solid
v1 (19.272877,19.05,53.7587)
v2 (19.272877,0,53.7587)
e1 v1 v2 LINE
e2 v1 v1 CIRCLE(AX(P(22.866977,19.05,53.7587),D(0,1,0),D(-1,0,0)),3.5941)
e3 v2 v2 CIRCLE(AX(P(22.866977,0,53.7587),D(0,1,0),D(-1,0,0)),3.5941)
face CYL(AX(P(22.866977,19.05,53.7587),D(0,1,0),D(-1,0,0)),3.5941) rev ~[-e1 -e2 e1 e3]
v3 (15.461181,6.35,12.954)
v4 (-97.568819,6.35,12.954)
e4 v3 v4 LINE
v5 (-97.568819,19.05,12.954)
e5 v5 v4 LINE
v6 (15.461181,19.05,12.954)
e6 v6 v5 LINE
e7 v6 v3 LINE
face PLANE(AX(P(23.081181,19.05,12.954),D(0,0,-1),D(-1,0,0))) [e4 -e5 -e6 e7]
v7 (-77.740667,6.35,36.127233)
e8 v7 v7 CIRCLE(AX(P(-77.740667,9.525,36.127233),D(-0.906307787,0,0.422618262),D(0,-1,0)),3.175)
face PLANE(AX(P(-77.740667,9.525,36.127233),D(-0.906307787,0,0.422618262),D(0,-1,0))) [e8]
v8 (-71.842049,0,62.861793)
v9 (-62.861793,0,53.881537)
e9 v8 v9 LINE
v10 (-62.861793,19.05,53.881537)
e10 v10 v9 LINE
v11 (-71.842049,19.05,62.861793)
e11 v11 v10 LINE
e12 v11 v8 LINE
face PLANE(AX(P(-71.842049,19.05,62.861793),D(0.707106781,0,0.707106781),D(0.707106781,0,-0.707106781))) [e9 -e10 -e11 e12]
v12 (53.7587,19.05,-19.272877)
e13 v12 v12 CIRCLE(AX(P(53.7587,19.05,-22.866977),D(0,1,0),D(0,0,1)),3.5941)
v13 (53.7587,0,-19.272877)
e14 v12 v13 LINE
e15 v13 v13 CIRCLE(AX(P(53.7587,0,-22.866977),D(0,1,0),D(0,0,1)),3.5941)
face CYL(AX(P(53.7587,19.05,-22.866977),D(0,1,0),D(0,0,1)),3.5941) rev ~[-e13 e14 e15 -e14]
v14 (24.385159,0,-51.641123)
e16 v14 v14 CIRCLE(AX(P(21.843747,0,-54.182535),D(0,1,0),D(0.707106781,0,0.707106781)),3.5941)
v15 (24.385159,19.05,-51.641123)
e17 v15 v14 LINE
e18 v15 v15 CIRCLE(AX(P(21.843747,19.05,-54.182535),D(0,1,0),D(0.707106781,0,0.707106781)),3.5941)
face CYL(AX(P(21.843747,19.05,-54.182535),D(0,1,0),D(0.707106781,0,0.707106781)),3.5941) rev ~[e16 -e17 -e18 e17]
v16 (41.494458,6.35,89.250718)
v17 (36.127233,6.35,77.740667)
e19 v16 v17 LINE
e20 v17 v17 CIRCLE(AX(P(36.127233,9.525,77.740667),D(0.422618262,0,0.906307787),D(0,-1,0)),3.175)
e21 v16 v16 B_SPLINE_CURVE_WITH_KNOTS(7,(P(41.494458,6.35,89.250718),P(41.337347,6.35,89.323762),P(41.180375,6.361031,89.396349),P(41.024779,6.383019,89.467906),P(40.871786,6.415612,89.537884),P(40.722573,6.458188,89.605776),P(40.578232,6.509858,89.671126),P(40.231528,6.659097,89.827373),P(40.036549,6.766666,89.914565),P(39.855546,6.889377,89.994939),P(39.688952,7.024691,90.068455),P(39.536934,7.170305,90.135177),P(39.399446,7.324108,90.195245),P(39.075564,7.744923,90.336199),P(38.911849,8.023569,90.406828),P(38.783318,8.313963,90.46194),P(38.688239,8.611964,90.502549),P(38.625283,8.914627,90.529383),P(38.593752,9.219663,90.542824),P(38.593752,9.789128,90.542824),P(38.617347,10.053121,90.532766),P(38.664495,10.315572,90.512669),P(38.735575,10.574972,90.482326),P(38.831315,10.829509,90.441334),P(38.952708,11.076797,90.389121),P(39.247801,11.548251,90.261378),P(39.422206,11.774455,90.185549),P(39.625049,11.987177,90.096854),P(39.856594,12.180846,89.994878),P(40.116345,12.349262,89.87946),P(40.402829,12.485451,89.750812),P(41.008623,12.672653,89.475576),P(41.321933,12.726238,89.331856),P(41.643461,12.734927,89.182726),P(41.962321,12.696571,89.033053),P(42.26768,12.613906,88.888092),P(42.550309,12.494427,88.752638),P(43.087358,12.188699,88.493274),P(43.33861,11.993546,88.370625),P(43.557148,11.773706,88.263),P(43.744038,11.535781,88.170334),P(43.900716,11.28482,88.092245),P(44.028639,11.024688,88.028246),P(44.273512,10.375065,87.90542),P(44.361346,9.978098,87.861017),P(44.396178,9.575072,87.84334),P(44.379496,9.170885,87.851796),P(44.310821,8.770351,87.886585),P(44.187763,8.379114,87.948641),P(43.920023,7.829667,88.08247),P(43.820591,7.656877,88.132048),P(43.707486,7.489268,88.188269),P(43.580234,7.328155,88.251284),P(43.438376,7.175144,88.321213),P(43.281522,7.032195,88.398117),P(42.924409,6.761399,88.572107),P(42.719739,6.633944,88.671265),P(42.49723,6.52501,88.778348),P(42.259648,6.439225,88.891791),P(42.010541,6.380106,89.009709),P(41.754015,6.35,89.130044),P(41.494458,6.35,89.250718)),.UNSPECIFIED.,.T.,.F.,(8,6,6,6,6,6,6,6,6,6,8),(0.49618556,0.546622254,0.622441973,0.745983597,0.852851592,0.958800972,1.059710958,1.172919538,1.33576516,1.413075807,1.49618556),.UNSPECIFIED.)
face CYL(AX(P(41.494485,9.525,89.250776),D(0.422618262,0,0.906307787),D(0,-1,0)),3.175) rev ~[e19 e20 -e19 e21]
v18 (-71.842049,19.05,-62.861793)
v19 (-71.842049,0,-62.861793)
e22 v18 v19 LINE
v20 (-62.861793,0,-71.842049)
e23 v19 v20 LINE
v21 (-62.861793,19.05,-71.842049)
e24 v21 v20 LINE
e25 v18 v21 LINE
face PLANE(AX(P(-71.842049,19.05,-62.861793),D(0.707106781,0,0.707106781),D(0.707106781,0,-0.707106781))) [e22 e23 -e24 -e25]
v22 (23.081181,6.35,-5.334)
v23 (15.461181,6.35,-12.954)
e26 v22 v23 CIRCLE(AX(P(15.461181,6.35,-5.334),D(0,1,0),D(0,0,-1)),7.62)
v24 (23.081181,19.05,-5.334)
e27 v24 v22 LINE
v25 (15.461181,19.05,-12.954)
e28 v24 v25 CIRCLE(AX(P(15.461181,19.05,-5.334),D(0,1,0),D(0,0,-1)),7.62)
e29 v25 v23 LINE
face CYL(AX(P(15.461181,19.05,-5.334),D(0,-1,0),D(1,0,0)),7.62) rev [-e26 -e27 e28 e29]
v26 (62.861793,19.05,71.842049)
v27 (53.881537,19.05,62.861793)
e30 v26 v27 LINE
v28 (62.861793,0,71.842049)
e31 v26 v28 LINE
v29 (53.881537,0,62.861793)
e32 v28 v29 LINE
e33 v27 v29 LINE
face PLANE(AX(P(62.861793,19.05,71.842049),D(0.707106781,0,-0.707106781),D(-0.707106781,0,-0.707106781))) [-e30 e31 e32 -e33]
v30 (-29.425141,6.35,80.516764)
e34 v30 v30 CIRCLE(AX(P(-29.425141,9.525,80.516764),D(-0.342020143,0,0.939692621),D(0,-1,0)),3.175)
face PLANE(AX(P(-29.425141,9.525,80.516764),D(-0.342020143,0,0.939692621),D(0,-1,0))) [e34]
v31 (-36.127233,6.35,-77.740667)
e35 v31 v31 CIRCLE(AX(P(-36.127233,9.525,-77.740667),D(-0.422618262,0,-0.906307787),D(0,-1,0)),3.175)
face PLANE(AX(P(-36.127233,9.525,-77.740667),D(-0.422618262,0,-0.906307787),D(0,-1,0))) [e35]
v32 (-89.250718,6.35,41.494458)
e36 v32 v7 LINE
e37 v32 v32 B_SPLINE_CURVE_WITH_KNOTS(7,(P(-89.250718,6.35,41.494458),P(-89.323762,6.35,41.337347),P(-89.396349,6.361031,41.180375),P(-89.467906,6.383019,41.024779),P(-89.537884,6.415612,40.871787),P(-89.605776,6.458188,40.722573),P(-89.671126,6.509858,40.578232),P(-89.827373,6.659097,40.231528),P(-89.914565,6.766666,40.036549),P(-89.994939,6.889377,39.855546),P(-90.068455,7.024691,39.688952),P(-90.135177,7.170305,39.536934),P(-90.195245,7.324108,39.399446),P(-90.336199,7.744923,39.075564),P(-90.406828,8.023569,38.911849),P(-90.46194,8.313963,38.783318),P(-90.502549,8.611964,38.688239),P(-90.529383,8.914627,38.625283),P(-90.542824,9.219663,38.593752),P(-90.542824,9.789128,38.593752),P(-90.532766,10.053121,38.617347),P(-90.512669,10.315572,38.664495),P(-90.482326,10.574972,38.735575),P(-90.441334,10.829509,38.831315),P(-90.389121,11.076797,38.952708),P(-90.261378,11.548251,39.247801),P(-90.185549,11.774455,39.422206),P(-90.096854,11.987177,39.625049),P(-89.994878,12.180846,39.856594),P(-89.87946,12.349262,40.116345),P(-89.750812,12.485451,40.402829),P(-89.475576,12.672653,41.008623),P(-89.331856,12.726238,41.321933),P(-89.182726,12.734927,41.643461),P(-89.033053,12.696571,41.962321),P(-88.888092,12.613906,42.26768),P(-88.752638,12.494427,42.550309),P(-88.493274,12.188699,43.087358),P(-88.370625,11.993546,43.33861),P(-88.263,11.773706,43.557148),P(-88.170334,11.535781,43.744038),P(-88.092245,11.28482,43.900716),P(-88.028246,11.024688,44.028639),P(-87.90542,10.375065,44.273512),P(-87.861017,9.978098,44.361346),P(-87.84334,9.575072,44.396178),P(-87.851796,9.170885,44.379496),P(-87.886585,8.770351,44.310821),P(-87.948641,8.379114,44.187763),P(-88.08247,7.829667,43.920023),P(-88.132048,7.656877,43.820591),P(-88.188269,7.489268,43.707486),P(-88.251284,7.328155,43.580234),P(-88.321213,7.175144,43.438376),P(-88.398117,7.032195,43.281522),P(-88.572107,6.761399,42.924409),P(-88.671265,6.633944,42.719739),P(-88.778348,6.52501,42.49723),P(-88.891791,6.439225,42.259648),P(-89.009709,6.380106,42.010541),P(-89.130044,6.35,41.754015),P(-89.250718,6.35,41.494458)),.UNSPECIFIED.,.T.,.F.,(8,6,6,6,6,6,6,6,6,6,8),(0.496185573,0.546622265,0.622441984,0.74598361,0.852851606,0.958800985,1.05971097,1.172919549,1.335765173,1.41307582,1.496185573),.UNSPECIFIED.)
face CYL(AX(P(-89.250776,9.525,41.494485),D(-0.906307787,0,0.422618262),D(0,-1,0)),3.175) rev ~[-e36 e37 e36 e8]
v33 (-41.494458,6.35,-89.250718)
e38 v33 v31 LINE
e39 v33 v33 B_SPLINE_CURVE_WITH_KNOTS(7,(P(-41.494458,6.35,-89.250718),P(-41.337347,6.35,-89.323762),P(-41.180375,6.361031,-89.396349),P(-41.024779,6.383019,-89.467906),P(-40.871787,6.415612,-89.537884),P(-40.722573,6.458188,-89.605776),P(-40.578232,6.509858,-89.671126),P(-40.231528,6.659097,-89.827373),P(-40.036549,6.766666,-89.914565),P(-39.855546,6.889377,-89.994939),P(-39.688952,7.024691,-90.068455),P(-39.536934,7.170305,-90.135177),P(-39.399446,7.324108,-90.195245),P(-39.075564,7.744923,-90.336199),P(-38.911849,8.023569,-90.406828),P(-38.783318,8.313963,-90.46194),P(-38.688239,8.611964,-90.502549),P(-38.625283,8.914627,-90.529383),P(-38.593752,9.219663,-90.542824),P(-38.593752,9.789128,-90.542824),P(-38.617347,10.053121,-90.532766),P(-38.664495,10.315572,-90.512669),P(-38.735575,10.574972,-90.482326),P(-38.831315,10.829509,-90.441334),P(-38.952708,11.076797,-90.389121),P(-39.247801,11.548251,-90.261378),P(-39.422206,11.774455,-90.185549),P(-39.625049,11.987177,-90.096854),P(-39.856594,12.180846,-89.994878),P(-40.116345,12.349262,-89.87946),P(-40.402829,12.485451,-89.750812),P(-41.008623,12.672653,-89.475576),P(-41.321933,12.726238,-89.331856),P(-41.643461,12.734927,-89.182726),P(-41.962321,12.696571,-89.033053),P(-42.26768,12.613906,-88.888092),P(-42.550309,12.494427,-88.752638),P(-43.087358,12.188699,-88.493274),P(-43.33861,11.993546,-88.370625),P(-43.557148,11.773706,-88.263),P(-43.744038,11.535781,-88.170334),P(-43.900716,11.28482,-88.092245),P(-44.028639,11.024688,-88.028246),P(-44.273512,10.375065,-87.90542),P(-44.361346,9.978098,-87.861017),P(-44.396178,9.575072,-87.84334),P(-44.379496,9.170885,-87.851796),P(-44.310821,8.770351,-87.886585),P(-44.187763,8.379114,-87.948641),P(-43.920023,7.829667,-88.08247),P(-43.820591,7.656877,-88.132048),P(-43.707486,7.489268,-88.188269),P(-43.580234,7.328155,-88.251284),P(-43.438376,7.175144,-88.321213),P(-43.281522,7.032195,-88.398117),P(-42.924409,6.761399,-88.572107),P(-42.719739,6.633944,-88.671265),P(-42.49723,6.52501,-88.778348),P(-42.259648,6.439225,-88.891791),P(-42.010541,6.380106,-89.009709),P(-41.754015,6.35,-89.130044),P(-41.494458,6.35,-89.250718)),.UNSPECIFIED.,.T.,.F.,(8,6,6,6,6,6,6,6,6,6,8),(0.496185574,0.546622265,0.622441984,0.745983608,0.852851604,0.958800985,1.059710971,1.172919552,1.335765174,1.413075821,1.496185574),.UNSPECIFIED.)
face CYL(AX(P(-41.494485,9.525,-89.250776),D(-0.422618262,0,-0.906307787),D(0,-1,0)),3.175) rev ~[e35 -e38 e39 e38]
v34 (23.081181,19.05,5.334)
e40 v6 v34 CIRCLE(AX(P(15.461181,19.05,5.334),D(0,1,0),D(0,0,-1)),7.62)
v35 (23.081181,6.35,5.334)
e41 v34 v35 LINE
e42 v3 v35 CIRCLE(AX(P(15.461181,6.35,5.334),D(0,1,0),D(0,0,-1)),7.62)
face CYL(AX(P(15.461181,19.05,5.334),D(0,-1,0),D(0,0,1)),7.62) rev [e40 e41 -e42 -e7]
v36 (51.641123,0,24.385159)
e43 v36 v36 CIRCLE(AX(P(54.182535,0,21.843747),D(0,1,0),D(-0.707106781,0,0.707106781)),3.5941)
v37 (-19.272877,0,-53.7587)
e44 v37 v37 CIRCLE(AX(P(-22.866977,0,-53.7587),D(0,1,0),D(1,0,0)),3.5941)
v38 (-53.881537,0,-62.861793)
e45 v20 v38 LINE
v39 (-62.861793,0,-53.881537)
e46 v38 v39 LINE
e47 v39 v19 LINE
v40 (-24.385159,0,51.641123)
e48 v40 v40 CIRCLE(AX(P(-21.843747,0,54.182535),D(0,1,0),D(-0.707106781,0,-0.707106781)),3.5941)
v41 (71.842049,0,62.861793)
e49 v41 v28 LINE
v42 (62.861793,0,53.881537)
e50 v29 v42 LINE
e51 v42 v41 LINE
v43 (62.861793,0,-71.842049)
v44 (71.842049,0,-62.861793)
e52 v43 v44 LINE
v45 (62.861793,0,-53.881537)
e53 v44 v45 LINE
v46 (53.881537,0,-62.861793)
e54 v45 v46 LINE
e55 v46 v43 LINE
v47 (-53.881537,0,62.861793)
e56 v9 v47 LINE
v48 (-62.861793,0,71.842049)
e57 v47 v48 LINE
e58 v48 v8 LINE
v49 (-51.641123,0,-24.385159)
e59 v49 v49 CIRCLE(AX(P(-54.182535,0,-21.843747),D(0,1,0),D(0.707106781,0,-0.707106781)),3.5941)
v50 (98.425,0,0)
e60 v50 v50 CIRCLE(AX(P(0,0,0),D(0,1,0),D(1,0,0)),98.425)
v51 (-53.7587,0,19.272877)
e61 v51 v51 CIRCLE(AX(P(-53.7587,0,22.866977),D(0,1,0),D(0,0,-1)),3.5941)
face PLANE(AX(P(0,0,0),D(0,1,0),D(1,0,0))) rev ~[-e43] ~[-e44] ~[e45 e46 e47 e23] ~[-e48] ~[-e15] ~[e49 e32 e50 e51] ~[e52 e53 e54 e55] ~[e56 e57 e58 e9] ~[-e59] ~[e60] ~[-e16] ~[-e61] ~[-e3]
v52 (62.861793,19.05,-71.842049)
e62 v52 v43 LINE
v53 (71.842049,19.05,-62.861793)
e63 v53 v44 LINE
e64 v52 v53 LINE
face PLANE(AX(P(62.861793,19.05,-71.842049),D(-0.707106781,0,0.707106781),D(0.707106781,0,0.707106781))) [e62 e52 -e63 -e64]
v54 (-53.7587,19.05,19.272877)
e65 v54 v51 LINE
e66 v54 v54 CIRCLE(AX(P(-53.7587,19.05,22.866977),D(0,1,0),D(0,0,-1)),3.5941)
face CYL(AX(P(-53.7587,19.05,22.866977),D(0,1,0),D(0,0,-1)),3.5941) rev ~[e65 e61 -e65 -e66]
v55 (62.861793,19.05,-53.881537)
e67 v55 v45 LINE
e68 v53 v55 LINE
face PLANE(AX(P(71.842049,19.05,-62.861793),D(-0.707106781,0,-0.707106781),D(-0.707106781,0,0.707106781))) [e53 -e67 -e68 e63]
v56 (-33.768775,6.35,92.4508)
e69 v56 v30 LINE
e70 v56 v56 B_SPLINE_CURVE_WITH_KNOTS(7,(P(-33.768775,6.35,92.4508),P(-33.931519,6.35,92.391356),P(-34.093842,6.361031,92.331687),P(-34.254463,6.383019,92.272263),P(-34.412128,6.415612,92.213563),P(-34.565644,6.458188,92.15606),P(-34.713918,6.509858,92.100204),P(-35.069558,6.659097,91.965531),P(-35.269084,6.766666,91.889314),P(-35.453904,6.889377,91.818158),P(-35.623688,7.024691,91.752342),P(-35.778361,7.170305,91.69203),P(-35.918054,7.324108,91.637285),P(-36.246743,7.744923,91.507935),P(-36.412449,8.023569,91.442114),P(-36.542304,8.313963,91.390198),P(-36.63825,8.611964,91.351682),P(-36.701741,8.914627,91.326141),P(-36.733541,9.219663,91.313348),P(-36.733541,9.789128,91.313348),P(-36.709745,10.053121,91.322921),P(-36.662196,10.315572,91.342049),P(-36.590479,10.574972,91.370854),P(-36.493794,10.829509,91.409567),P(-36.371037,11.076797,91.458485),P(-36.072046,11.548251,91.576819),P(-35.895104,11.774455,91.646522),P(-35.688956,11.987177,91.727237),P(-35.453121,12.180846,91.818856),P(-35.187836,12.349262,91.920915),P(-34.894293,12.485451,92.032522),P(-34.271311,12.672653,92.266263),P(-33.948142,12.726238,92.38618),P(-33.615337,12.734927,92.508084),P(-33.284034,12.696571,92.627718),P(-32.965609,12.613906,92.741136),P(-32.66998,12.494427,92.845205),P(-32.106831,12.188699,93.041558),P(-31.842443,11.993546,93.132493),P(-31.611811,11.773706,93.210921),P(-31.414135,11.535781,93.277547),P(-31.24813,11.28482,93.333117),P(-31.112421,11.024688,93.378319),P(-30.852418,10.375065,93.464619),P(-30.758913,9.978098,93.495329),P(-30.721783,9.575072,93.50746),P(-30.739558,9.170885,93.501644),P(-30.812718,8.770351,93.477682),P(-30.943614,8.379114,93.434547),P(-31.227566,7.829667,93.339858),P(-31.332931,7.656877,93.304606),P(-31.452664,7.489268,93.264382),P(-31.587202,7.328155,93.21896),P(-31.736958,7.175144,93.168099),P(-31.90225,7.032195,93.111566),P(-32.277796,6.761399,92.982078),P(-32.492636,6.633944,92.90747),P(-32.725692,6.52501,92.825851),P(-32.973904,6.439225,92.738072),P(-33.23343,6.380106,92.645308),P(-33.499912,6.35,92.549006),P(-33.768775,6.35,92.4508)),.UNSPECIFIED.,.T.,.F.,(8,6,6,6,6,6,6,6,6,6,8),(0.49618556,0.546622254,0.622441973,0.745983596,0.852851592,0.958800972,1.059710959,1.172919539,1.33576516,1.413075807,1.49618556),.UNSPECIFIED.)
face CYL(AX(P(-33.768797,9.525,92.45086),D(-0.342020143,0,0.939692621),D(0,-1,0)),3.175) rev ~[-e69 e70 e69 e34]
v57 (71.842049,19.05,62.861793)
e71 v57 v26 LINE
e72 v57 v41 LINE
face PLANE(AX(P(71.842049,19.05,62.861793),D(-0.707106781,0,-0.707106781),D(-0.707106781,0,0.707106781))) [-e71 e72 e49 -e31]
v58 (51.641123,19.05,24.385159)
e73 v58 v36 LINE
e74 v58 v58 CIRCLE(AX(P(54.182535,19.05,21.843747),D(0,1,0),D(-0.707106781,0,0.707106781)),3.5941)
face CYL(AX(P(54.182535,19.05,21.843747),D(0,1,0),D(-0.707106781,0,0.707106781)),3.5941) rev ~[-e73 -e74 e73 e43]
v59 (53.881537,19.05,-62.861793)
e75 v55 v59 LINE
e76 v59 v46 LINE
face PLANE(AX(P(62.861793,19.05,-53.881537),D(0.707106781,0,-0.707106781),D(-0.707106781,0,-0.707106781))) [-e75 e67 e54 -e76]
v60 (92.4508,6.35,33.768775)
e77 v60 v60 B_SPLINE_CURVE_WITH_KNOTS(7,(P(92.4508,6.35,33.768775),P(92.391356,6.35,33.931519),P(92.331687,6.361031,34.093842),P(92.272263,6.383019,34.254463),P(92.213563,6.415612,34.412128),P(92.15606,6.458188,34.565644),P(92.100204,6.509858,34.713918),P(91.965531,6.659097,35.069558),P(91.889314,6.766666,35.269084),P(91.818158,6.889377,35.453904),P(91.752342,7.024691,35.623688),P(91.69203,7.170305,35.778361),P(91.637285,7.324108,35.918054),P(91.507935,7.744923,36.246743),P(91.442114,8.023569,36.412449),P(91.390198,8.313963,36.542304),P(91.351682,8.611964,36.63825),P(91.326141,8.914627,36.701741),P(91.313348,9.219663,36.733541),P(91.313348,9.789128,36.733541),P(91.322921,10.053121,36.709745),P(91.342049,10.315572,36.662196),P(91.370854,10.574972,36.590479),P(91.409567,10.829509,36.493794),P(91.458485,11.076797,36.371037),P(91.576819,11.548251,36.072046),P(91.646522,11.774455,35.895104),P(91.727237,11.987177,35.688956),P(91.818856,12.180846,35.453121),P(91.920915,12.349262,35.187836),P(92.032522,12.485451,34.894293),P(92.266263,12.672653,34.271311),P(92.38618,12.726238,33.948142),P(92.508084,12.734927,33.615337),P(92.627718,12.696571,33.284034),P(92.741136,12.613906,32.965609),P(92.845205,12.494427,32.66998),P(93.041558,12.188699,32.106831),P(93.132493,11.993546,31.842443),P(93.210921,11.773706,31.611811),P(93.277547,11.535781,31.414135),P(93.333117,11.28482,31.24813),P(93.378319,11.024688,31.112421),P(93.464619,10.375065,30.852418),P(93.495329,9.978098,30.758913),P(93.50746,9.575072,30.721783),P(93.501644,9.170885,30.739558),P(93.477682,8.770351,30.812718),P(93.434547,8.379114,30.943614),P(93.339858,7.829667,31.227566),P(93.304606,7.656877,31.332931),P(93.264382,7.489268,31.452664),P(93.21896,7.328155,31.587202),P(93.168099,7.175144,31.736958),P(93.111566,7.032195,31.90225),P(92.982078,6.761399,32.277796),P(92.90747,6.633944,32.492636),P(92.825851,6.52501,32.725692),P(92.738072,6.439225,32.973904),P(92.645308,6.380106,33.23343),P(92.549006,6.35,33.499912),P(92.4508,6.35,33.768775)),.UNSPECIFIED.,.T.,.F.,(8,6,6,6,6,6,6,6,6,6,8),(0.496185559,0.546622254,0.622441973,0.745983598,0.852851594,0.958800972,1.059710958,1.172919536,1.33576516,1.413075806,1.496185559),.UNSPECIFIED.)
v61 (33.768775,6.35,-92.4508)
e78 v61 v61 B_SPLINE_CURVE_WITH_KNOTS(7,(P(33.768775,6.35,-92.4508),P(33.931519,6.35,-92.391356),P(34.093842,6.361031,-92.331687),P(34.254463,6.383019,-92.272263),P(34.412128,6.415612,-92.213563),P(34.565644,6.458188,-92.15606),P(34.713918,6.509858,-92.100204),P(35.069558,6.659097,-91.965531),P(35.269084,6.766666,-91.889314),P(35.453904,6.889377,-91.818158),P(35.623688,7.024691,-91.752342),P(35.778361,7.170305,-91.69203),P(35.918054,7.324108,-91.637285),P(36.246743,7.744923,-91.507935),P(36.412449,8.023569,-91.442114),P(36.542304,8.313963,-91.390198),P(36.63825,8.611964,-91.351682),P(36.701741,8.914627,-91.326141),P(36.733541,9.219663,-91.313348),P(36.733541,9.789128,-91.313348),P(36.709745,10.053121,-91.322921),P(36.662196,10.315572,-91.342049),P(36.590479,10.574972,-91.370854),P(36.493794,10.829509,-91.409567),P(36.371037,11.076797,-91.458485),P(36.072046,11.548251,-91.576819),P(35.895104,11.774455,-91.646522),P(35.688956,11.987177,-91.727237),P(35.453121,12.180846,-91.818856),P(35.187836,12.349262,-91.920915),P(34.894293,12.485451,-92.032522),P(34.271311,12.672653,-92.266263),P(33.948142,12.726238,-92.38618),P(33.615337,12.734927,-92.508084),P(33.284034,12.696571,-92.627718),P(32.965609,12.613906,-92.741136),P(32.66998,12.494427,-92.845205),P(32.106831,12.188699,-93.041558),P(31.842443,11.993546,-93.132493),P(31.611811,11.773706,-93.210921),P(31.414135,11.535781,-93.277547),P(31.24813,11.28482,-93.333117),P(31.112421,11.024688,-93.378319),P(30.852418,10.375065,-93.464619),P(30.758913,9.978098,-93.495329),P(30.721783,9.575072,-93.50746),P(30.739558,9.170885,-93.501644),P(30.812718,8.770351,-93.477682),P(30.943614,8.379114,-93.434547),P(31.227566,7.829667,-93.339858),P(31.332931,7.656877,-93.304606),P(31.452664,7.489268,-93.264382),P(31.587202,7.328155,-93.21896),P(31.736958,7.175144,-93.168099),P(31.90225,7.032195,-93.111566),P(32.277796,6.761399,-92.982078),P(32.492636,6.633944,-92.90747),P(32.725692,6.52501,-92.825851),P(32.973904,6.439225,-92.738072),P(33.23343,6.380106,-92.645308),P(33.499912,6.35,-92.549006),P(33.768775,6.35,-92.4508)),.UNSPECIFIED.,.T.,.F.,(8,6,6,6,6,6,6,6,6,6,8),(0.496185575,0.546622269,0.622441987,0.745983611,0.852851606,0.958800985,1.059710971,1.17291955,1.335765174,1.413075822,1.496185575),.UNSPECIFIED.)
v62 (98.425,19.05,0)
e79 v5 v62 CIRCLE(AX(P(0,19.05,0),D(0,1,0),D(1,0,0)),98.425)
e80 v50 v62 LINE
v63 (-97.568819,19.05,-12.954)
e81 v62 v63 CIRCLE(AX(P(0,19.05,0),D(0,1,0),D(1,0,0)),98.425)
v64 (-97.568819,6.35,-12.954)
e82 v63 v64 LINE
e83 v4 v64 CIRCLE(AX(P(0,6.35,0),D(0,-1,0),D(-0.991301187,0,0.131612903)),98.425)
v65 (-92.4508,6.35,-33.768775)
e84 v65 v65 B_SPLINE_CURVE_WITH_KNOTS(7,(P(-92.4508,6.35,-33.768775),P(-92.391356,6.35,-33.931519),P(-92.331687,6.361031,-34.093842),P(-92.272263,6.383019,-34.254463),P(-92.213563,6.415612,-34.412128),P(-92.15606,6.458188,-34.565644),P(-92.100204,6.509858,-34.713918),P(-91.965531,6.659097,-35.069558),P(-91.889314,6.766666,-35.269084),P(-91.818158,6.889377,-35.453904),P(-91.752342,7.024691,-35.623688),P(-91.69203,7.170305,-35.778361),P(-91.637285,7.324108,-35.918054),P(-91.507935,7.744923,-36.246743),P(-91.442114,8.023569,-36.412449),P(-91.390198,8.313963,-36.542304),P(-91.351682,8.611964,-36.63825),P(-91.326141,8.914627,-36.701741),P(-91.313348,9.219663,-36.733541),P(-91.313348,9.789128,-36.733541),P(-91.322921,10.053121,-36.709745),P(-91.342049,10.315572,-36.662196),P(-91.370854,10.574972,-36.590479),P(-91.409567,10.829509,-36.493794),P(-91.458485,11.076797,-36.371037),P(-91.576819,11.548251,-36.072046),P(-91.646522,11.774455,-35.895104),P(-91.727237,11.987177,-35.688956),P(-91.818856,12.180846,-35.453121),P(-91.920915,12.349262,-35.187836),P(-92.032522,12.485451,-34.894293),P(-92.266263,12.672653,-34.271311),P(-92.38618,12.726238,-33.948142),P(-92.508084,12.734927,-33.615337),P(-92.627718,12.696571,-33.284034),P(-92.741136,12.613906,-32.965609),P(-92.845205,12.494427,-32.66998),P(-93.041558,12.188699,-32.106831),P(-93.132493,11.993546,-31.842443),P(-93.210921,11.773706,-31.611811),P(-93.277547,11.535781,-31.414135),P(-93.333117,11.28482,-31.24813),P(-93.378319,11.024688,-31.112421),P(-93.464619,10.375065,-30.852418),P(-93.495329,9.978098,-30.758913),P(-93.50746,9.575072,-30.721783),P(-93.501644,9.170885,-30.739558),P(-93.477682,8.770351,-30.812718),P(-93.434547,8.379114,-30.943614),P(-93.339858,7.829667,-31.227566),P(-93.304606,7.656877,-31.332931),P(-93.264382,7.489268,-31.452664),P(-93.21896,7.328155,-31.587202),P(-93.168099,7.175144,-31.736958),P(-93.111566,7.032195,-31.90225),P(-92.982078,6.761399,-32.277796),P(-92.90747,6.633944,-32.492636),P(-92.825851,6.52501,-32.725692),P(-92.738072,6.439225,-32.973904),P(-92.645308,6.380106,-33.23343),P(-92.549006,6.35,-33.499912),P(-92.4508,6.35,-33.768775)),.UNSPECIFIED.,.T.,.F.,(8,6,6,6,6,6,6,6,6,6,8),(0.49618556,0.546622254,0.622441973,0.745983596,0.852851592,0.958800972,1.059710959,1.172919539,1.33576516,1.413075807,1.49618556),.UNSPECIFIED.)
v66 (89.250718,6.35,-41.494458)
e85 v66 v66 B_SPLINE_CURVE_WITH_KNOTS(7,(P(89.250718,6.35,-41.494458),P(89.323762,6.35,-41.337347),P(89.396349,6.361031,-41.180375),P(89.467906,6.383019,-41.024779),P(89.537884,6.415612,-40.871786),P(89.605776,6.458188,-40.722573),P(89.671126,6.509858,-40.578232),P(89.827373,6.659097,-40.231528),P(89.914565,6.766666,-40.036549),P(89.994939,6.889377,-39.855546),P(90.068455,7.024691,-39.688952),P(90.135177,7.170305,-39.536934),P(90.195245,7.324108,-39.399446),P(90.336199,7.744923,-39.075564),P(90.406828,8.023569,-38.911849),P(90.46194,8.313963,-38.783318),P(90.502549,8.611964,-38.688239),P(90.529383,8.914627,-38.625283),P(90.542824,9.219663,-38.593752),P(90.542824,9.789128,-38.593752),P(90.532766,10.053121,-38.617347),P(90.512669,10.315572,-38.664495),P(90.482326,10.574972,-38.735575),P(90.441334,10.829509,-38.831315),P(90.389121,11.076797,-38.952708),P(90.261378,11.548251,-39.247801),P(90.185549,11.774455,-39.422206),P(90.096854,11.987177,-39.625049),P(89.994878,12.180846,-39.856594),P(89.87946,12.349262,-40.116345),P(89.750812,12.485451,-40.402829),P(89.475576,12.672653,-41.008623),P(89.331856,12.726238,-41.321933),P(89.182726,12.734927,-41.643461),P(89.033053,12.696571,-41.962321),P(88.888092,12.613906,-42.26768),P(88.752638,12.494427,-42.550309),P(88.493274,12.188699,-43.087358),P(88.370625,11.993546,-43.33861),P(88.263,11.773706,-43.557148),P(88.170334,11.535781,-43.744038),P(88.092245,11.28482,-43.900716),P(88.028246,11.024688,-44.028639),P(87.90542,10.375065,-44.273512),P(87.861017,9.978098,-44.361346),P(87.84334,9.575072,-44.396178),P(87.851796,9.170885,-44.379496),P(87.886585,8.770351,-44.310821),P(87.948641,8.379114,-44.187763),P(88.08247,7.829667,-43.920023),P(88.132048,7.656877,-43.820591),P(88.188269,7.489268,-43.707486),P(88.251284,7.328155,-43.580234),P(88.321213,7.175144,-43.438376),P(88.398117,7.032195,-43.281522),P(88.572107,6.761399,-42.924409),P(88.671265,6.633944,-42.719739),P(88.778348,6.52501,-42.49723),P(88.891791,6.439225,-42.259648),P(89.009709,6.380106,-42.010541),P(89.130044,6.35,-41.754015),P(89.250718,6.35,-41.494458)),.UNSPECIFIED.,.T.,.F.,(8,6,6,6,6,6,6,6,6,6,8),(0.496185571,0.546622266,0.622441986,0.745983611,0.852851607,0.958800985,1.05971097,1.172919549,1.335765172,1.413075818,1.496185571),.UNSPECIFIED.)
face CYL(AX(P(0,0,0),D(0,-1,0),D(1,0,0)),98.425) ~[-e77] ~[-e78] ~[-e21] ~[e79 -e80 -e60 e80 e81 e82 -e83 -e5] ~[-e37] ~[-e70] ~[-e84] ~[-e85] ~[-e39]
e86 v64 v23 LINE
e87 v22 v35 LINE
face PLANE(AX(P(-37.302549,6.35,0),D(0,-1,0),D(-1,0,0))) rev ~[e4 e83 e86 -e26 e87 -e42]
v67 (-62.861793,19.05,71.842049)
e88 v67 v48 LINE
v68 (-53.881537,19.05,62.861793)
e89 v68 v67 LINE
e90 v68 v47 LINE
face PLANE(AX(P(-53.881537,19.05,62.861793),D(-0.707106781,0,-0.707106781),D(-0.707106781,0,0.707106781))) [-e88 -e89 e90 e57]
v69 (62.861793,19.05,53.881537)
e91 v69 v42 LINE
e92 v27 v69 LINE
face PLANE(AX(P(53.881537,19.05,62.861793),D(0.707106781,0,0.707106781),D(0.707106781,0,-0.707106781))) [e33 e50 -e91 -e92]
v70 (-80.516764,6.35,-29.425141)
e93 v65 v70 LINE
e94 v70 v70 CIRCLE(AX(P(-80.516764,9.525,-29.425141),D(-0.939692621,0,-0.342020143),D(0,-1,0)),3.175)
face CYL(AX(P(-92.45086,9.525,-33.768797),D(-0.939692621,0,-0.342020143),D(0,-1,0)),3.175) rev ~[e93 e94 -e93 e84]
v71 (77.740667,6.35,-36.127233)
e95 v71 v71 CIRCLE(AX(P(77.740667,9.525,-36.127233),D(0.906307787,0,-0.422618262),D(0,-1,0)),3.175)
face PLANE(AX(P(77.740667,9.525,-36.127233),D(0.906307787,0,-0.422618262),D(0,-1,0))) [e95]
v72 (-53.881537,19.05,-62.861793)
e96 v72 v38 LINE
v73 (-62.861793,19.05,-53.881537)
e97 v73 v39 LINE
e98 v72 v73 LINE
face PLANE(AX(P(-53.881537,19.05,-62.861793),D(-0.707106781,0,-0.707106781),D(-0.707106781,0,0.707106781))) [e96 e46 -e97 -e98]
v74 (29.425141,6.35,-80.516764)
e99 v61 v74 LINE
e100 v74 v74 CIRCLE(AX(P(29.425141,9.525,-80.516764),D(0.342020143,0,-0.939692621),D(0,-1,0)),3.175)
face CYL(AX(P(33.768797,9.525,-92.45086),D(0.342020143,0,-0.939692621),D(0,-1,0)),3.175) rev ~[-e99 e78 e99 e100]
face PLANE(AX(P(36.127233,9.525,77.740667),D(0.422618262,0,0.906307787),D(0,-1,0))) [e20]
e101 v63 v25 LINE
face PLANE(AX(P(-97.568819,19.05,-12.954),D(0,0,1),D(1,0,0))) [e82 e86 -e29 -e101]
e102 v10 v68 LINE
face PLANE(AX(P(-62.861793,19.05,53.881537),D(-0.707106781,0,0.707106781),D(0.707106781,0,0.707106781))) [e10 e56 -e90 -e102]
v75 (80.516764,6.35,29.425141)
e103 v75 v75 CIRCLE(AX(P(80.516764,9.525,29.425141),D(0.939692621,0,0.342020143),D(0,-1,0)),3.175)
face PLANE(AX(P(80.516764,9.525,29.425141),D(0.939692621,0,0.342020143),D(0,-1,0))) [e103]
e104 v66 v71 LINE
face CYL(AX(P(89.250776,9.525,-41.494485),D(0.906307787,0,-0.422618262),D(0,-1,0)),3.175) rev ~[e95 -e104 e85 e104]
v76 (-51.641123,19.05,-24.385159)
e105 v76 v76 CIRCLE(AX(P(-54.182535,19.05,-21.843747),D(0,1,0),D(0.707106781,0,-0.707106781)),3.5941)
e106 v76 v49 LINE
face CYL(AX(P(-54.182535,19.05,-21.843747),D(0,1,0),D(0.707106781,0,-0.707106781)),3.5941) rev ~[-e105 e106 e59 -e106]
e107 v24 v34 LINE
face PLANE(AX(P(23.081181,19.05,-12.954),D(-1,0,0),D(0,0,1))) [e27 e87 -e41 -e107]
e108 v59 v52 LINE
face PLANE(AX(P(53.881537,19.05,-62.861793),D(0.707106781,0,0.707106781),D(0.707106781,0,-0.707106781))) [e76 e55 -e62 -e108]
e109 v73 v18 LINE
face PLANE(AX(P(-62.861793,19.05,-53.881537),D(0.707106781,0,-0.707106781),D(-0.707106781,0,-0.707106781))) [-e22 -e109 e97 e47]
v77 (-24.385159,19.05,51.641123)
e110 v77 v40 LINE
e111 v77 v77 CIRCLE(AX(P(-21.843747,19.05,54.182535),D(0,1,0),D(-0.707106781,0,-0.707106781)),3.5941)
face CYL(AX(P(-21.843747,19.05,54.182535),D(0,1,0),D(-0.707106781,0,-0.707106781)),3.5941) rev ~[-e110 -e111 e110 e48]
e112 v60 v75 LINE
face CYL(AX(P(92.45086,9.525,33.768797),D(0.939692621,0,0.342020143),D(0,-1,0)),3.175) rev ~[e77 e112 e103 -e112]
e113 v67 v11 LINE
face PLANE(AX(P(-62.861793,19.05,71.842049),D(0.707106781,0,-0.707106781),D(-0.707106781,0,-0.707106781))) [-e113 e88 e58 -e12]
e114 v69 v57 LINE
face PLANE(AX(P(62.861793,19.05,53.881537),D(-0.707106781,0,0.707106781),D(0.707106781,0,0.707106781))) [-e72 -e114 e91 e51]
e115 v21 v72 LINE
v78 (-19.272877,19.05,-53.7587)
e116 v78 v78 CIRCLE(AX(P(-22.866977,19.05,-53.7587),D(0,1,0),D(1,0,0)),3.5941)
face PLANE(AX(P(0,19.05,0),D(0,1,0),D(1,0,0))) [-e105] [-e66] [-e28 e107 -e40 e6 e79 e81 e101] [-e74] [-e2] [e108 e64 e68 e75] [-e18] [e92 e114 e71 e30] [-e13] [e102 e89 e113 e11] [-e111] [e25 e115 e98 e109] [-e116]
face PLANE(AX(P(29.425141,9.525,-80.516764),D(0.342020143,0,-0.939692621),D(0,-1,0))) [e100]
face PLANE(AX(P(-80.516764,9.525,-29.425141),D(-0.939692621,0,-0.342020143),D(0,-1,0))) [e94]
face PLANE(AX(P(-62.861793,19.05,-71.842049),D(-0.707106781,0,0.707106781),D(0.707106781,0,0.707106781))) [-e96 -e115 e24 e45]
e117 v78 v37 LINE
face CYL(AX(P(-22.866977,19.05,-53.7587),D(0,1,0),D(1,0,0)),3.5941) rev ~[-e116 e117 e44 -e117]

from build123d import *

# Parameters (mm, degrees)
SKETCH1_R           = 98.425
BOSS_EXTRUDE1_DEPTH = 19.05
SKETCH3_R           = 3.5941
CUT_EXTRUDE4_DEPTH  = 19.05
CIRPATTERN2_COUNT   = 8
CUT_EXTRUDE5_DEPTH  = 12.7
CUT_EXTRUDE7_DEPTH  = 19.05
CIRPATTERN4_COUNT   = 4
SKETCH5_R           = 3.175
CUT_EXTRUDE8_DEPTH  = 12.7
CIRPATTERN5_COUNT   = 8
FILLET1_R           = 7.62


with BuildPart() as part:
    # Sketch1 → Boss-Extrude1 (new body)
    with BuildSketch(Plane(origin=(0, 0, 0), x_dir=(1, 0, 0), z_dir=(0, 1, 0))):
        Circle(SKETCH1_R)
    extrude(amount=BOSS_EXTRUDE1_DEPTH)

    # Sketch3 → Cut-Extrude4 (cut)
    with BuildSketch(Plane(origin=(0, 19.05, 0), x_dir=(1, 0, 0), z_dir=(0, 1, 0))):
        with Locations((-22.866976578, 53.758699595)):
            Circle(SKETCH3_R)
    cut_extrude4 = extrude(amount=-CUT_EXTRUDE4_DEPTH, mode=Mode.SUBTRACT)

    # CirPattern2: Cut-Extrude4 ×8 about axis
    cirpattern2_axis = Axis((0, 0, 0), (0, 1, 0))
    for i in range(1, CIRPATTERN2_COUNT):
        add(cut_extrude4.rotate(cirpattern2_axis, i * 360 / CIRPATTERN2_COUNT), mode=Mode.SUBTRACT)

    # Sketch4 → Cut-Extrude5 (cut)
    with BuildSketch(Plane(origin=(0, 19.05, 0), x_dir=(1, 0, 0), z_dir=(0, 1, 0))):
        with BuildLine():
            Line((-97.568819348, 12.954), (23.081180652, 12.954))
            Line((23.081180652, 12.954), (23.081180652, -12.954))
            Line((23.081180652, -12.954), (-97.568819348, -12.954))
            ThreePointArc((-97.568819348, -12.954), (-98.425, 0), (-97.568819348, 12.954))
        make_face()
    extrude(amount=-CUT_EXTRUDE5_DEPTH, mode=Mode.SUBTRACT)

    # Sketch2 → Cut-Extrude7 (cut)
    with BuildSketch(Plane(origin=(0, 19.05, 0), x_dir=(1, 0, 0), z_dir=(0, 1, 0))):
        Polygon((53.881536726, 62.861792847), (62.861792847, 71.842048969), (71.842048969, 62.861792847), (62.861792847, 53.881536726), align=None)
    cut_extrude7 = extrude(amount=-CUT_EXTRUDE7_DEPTH, mode=Mode.SUBTRACT)

    # CirPattern4: Cut-Extrude7 ×4 about axis
    cirpattern4_axis = Axis((0, 0, 0), (0, 1, 0))
    for i in range(1, CIRPATTERN4_COUNT):
        add(cut_extrude7.rotate(cirpattern4_axis, i * 360 / CIRPATTERN4_COUNT), mode=Mode.SUBTRACT)

    # Sketch5 → Cut-Extrude8 (cut)
    with BuildSketch(Plane(origin=(-33.663332607, 0, 92.489246201), x_dir=(0, -1, 0), z_dir=(-0.342020143, 0, 0.939692621))):
        with Locations((-9.525, -0.112232827)):
            Circle(SKETCH5_R)
    cut_extrude8 = extrude(amount=-CUT_EXTRUDE8_DEPTH, mode=Mode.SUBTRACT)

    # CirPattern5: Cut-Extrude8 ×8 about axis
    cirpattern5_axis = Axis((0, 0, 0), (0, 1, 0))
    for i in range(1, CIRPATTERN5_COUNT):
        add(cut_extrude8.rotate(cirpattern5_axis, i * 360 / CIRPATTERN5_COUNT), mode=Mode.SUBTRACT)

    # Fillet1
    fillet1_edges = [part.edges().sort_by_distance(p)[0] for p in [
        (23.081180652, 12.7, -12.954),
        (23.081180652, 12.7, 12.954),
    ]]
    fillet(fillet1_edges, radius=FILLET1_R)


solid = part.part
